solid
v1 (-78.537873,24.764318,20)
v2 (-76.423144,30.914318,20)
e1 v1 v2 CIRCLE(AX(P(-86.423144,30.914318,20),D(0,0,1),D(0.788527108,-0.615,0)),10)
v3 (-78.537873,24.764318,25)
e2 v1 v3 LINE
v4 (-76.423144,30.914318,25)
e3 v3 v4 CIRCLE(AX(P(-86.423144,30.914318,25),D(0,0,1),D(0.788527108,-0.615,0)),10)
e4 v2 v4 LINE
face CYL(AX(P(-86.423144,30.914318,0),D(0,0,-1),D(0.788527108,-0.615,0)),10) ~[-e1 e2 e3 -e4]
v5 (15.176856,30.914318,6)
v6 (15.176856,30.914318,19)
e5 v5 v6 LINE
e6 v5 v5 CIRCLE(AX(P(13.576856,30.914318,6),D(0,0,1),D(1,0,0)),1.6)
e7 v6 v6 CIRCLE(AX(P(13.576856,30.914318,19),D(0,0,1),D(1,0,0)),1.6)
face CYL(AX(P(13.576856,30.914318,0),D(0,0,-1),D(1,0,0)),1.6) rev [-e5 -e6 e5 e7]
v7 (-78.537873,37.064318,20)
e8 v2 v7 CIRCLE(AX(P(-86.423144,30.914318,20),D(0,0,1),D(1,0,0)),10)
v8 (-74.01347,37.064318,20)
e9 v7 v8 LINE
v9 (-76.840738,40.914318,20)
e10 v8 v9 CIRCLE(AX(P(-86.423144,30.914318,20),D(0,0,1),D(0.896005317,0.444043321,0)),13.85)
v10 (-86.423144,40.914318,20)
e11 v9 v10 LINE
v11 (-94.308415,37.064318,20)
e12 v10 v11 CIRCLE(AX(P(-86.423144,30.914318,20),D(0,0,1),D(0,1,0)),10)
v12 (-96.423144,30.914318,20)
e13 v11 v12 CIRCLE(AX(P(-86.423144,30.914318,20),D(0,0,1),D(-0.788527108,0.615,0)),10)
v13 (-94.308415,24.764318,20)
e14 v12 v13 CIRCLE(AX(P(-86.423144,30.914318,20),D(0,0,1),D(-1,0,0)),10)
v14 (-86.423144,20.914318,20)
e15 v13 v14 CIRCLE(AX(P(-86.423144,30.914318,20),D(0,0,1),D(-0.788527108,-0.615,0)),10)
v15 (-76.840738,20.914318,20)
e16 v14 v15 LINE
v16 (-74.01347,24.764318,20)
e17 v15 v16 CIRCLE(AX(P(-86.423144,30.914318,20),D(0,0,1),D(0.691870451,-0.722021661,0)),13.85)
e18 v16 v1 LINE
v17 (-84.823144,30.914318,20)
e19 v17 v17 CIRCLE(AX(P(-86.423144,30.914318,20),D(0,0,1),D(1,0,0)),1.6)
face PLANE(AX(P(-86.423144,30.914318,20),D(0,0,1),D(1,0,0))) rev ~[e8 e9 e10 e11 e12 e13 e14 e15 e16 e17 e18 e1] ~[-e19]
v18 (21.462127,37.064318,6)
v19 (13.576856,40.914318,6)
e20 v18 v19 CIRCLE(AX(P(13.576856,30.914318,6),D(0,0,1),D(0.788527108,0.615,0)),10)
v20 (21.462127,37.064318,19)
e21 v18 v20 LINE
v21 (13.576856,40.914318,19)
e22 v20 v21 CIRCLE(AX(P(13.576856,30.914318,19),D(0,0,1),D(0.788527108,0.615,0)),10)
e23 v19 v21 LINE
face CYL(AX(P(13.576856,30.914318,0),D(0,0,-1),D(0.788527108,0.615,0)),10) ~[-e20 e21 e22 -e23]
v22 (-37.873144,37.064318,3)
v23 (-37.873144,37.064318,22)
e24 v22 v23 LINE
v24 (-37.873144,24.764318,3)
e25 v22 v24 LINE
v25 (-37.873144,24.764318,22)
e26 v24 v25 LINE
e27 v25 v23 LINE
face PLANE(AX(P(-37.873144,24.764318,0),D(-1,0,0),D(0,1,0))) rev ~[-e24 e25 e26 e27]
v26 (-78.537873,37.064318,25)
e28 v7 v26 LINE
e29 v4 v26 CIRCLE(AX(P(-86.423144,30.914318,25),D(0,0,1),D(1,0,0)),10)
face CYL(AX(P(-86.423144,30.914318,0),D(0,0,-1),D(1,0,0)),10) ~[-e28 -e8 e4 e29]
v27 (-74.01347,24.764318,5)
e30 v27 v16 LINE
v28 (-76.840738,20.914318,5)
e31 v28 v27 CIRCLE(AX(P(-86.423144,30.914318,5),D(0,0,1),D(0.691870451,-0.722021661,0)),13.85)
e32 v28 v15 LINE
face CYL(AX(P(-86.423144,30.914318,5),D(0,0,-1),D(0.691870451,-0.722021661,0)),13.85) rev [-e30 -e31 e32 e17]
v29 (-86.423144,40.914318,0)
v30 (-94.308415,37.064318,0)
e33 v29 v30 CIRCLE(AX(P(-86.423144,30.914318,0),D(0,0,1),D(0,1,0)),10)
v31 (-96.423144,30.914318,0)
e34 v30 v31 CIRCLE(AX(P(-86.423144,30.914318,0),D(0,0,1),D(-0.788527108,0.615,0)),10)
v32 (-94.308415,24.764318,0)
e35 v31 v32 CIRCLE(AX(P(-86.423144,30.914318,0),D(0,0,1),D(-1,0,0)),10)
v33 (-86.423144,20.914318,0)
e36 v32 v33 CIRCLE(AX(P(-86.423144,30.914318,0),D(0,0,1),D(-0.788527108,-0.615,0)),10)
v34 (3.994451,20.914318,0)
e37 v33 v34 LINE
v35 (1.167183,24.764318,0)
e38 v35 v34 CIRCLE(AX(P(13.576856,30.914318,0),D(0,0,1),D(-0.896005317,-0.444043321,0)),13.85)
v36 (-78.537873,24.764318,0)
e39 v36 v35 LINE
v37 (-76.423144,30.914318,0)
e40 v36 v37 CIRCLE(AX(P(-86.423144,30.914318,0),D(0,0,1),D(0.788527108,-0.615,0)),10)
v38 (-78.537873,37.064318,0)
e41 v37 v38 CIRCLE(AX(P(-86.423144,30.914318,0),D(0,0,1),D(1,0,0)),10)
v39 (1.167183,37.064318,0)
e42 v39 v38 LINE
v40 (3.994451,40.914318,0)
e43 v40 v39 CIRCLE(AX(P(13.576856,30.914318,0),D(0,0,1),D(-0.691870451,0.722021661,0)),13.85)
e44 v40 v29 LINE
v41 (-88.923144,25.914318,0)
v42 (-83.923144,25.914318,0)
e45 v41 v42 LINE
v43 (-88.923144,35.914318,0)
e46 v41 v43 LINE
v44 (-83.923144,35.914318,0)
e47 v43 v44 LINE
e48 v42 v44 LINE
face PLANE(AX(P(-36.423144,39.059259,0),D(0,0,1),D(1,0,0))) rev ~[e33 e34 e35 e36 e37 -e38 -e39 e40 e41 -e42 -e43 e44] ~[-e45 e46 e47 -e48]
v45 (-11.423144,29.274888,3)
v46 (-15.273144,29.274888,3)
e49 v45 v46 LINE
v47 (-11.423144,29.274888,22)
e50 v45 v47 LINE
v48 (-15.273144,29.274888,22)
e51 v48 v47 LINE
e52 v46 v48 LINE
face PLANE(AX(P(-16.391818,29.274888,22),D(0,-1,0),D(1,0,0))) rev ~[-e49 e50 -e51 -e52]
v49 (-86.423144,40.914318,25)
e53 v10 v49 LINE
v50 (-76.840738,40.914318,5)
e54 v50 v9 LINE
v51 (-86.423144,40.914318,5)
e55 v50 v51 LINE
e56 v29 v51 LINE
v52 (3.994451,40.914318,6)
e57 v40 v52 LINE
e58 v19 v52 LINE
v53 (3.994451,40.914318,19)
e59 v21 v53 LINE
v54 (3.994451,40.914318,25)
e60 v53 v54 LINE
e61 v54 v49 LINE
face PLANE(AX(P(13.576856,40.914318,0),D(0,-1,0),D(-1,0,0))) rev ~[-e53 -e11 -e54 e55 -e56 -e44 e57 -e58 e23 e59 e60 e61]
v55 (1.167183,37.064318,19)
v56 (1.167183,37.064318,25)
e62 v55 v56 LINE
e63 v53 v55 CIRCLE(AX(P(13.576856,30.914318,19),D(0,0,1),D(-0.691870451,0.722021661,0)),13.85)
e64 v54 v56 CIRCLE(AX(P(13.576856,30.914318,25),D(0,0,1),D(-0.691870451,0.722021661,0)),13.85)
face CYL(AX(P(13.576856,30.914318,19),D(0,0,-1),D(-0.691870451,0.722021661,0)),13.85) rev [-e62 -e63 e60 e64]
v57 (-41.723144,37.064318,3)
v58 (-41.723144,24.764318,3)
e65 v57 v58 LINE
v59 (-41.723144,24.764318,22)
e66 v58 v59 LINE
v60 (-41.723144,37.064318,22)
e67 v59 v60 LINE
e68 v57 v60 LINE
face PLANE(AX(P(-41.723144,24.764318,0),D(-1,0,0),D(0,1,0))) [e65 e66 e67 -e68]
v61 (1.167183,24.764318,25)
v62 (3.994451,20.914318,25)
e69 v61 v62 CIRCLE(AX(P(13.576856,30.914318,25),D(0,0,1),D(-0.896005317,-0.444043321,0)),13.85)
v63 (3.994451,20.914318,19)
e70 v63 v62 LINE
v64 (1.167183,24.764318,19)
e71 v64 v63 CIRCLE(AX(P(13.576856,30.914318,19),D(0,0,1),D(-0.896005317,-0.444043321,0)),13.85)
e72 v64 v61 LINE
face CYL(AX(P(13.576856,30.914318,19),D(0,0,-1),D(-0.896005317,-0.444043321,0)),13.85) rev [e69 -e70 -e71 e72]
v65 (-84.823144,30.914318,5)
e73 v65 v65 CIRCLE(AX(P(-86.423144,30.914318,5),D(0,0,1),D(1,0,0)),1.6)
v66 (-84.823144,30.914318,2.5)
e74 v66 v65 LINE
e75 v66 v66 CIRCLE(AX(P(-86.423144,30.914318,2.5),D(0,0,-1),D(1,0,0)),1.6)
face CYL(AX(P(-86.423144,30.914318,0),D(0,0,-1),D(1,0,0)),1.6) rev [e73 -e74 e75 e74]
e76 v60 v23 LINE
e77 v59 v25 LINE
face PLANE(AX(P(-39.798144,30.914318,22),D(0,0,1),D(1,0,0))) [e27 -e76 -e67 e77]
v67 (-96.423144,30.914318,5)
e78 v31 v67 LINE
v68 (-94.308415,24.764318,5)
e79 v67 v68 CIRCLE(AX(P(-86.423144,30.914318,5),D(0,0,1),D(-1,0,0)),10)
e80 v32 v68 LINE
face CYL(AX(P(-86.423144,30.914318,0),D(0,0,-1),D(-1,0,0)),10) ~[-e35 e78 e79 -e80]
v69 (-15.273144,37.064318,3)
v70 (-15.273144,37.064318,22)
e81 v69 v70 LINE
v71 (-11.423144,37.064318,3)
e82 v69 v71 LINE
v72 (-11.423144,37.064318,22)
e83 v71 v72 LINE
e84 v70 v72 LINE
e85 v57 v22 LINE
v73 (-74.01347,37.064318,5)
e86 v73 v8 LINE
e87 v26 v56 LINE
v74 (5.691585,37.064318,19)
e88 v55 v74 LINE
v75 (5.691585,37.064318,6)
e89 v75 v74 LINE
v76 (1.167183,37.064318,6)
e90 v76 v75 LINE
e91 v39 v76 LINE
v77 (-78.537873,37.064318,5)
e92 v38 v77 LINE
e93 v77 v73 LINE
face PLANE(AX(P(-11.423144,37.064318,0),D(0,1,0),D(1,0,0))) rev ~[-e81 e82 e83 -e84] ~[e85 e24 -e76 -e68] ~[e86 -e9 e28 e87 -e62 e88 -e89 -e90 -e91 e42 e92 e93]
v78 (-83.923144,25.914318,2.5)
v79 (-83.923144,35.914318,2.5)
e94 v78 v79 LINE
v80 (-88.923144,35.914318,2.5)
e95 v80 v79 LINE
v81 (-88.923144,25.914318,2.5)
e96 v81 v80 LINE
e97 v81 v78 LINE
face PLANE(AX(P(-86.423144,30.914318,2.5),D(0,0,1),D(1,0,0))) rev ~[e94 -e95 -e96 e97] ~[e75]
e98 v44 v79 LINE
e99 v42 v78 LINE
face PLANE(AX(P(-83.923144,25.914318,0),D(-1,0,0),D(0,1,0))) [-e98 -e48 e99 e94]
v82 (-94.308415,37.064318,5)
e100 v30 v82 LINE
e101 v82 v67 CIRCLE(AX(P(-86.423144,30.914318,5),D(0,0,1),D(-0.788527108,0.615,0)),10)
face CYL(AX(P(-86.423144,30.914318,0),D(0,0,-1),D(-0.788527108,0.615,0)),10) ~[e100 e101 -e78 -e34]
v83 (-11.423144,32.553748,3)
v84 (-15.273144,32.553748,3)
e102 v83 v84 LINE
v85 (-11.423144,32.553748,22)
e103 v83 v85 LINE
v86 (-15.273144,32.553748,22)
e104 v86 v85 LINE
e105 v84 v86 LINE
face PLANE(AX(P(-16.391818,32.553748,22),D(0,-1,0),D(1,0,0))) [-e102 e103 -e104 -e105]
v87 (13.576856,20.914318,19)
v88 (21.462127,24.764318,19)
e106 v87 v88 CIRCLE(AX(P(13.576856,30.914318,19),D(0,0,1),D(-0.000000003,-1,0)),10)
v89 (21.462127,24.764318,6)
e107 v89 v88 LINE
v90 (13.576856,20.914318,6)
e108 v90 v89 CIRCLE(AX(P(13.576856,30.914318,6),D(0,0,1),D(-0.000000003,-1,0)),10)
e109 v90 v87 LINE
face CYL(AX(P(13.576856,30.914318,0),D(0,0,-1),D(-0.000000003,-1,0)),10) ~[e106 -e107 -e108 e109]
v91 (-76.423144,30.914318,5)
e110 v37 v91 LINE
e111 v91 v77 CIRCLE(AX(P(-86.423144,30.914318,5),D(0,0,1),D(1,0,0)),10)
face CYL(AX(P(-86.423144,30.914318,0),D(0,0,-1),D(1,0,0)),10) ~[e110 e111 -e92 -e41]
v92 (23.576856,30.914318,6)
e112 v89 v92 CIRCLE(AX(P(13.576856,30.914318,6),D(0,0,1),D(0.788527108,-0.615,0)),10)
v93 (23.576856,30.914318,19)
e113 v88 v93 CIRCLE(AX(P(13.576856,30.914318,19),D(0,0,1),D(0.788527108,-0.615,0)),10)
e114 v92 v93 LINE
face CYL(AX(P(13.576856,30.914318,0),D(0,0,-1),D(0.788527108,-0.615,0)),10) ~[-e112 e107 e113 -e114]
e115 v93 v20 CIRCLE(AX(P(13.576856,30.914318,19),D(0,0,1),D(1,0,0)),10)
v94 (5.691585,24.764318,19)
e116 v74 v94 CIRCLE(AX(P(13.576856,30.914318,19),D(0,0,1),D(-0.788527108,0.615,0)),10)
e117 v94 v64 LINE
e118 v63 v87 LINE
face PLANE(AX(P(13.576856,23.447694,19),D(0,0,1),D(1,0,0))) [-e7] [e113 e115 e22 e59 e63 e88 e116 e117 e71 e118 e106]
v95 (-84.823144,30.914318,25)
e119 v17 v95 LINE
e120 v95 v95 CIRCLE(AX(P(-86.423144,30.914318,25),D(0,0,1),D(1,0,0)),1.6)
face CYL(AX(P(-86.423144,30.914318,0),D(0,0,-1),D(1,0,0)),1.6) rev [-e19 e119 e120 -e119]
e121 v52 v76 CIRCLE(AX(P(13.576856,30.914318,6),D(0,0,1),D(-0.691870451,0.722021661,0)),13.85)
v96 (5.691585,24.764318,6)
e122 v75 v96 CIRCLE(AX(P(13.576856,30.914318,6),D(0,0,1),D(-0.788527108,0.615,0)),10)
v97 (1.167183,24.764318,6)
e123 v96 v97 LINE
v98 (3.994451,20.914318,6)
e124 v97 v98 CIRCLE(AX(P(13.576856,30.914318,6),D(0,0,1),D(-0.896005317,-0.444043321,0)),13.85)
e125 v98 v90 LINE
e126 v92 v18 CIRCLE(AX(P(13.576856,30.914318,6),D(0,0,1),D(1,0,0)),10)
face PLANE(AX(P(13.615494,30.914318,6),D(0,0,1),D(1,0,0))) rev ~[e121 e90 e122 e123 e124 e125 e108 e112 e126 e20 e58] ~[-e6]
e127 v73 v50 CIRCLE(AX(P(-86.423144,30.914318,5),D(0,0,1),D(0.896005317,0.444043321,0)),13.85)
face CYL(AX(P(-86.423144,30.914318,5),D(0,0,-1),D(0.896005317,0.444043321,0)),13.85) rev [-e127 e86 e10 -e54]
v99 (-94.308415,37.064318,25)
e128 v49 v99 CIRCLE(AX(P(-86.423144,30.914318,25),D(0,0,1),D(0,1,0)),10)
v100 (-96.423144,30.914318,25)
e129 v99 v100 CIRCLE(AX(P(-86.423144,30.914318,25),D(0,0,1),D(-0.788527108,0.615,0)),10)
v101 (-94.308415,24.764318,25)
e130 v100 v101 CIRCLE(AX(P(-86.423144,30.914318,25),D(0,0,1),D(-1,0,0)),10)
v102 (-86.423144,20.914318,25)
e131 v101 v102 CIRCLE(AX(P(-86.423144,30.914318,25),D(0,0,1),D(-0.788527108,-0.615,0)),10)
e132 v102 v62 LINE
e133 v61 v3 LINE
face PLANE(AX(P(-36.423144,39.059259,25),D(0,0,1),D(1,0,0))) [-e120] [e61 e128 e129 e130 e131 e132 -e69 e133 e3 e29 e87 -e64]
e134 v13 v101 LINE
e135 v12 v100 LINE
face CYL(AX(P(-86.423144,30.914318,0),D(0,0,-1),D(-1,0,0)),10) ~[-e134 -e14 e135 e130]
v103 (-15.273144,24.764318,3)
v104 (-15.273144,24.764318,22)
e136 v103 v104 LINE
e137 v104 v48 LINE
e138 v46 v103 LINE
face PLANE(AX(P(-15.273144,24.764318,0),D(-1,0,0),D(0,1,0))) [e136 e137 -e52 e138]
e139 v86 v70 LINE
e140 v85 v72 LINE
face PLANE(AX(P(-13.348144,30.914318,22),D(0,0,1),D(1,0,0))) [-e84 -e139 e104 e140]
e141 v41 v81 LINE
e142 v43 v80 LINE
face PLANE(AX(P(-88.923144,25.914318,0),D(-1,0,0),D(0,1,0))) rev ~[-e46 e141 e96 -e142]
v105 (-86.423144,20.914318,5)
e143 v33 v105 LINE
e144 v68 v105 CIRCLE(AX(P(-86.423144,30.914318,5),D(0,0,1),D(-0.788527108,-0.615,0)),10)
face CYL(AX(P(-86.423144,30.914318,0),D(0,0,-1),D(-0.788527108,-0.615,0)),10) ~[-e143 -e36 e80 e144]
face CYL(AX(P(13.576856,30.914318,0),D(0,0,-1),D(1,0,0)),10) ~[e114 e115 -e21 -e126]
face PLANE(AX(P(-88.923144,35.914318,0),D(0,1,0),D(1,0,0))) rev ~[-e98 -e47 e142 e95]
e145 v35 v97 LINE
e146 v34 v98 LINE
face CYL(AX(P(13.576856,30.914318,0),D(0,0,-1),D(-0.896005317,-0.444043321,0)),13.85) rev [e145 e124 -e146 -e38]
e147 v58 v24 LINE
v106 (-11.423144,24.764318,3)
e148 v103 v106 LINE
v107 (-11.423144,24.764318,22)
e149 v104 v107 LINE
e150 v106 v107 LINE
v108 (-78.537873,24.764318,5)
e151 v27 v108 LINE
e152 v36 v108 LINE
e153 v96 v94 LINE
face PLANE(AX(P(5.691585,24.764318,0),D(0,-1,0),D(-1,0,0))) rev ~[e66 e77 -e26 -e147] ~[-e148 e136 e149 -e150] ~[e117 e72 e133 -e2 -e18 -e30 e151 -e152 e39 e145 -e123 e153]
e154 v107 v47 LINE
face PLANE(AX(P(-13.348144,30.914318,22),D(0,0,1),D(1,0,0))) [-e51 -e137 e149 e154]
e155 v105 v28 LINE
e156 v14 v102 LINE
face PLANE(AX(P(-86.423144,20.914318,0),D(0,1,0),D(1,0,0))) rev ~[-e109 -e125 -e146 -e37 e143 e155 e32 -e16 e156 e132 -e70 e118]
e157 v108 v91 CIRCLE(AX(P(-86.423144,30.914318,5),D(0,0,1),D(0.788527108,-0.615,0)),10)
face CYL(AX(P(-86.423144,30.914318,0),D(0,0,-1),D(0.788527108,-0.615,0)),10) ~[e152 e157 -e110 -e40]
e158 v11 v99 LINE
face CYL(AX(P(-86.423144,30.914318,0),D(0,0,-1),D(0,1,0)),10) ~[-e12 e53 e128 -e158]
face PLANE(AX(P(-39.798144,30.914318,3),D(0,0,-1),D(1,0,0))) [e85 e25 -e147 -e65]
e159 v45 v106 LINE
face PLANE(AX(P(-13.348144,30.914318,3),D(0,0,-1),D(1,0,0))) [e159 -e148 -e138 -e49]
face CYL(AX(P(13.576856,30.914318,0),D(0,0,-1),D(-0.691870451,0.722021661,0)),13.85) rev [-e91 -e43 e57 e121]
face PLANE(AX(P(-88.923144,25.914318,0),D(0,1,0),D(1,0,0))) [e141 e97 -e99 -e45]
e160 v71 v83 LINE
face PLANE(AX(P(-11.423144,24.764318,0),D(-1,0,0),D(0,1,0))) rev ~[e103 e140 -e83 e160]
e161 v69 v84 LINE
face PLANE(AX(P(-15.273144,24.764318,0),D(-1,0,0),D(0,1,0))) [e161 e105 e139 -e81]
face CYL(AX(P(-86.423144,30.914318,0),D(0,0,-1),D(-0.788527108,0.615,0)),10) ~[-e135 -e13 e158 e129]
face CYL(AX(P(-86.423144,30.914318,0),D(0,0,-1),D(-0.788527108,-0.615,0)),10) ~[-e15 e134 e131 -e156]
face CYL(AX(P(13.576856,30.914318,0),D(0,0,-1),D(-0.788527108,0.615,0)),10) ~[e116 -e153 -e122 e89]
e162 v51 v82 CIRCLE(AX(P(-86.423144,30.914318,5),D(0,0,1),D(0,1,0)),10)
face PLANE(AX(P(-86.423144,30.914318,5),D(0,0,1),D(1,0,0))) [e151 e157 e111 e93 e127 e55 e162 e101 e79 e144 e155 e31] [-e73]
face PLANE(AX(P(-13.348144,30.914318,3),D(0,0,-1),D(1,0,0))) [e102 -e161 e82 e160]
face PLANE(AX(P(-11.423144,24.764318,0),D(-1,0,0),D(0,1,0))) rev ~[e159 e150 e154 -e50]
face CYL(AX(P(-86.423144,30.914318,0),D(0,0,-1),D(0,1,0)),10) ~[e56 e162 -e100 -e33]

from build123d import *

# Parameters (mm, degrees)
F0_R      = 1.6
F0_W      = 3.85
F0_H      = 12.3
F1_DEPTH  = 25
F2_W      = 3.85
F2_H      = 12.3
F3_DEPTH  = 3
F4_W      = 3.85
F4_H      = 12.3
F5_DEPTH  = 3
F7_START  = 19
F7_DEPTH  = 6
F8_DEPTH  = 6
F9_START  = 5
F9_DEPTH  = 15
F10_W     = 5
F10_H     = 10
F11_DEPTH = 2.5
F13_W     = 6.0873482585
F13_H     = 3.2788594067
F14_DEPTH = 25


with BuildPart() as f1:
    # F0 (on Top) → F1 (new body)
    with BuildSketch(Plane.XY):
        with BuildLine():
            Line((3.9944505033, 40.91431804), (-76.8407379923, 40.91431804))
            ThreePointArc((-76.8407379923, 40.91431804), (-75.2598774633, 39.1121217664), (-74.0134700985, 37.06431804))
            Line((-74.0134700985, 37.06431804), (-41.7231437445, 37.06431804))
            Line((-41.7231437445, 37.06431804), (-37.8731437445, 37.06431804))
            Line((-37.8731437445, 37.06431804), (-15.2731437445, 37.06431804))
            Line((-15.2731437445, 37.06431804), (-11.4231437445, 37.06431804))
            Line((-11.4231437445, 37.06431804), (1.1671826095, 37.06431804))
            ThreePointArc((1.1671826095, 37.06431804), (2.4135899744, 39.1121217664), (3.9944505033, 40.91431804))
        make_face()
        with BuildLine():
            Line((-76.8407379923, 40.91431804), (-86.4231437445, 40.91431804))
            ThreePointArc((-86.4231437445, 40.91431804), (-82.0356615508, 39.9004184178), (-78.5378726648, 37.06431804))
            Line((-78.5378726648, 37.06431804), (-74.0134700985, 37.06431804))
            ThreePointArc((-74.0134700985, 37.06431804), (-75.2598774633, 39.1121217664), (-76.8407379923, 40.91431804))
        make_face()
        with BuildLine():
            ThreePointArc((-78.5378726648, 37.06431804), (-82.0356615508, 39.9004184178), (-86.4231437445, 40.91431804))
            ThreePointArc((-86.4231437445, 40.91431804), (-90.8106259382, 39.9004184178), (-94.3084148241, 37.06431804))
            Line((-94.3084148241, 37.06431804), (-78.5378726648, 37.06431804))
        make_face()
        with BuildLine():
            ThreePointArc((-76.4231437445, 30.91431804), (-76.9665928194, 34.1660321421), (-78.5378726648, 37.06431804))
            Line((-78.5378726648, 37.06431804), (-94.3084148241, 37.06431804))
            ThreePointArc((-94.3084148241, 37.06431804), (-95.8796946695, 34.1660321421), (-96.4231437445, 30.91431804))
            ThreePointArc((-96.4231437445, 30.91431804), (-95.8796946695, 27.6626039379), (-94.3084148241, 24.76431804))
            Line((-94.3084148241, 24.76431804), (-78.5378726648, 24.76431804))
            ThreePointArc((-78.5378726648, 24.76431804), (-76.9665928194, 27.6626039379), (-76.4231437445, 30.91431804))
        make_face()
        with Locations((-86.4231437445, 30.91431804)):
            Circle(F0_R, mode=Mode.SUBTRACT)
        with BuildLine():
            ThreePointArc((-78.5378726648, 24.76431804), (-82.0356615508, 21.9282176622), (-86.4231437445, 20.91431804))
            Line((-86.4231437445, 20.91431804), (-76.8407379923, 20.91431804))
            ThreePointArc((-76.8407379923, 20.91431804), (-75.2598774633, 22.7165143137), (-74.0134700985, 24.76431804))
            Line((-74.0134700985, 24.76431804), (-78.5378726648, 24.76431804))
        make_face()
        with BuildLine():
            Line((-78.5378726648, 24.76431804), (-94.3084148241, 24.76431804))
            ThreePointArc((-94.3084148241, 24.76431804), (-90.8106259382, 21.9282176622), (-86.4231437445, 20.91431804))
            ThreePointArc((-86.4231437445, 20.91431804), (-82.0356615508, 21.9282176622), (-78.5378726648, 24.76431804))
        make_face()
        with BuildLine():
            ThreePointArc((-74.0134700985, 24.76431804), (-75.2598774633, 22.7165143137), (-76.8407379923, 20.91431804))
            Line((-76.8407379923, 20.91431804), (3.9944505033, 20.91431804))
            ThreePointArc((3.9944505033, 20.91431804), (2.4135899744, 22.7165143137), (1.1671826095, 24.76431804))
            Line((1.1671826095, 24.76431804), (-11.4231437445, 24.76431804))
            Line((-11.4231437445, 24.76431804), (-15.2731437445, 24.76431804))
            Line((-15.2731437445, 24.76431804), (-37.8731437445, 24.76431804))
            Line((-37.8731437445, 24.76431804), (-41.7231437445, 24.76431804))
            Line((-41.7231437445, 24.76431804), (-74.0134700985, 24.76431804))
        make_face()
        with Locations((-39.7981437445, 30.91431804)):
            Rectangle(F0_W, F0_H)
        with Locations((-13.3481437445, 30.91431804)):
            Rectangle(F0_W, F0_H)
        with BuildLine():
            ThreePointArc((23.5768562555, 30.91431804), (23.0334071806, 34.1660321421), (21.4621273352, 37.06431804))
            Line((21.4621273352, 37.06431804), (5.6915851759, 37.06431804))
            ThreePointArc((5.6915851759, 37.06431804), (3.5768562555, 30.91431804), (5.6915851759, 24.76431804))
            Line((5.6915851759, 24.76431804), (21.4621273352, 24.76431804))
            ThreePointArc((21.4621273352, 24.76431804), (23.0334071806, 27.6626039379), (23.5768562555, 30.91431804))
        make_face()
        with Locations((13.5768562555, 30.91431804)):
            Circle(F0_R, mode=Mode.SUBTRACT)
        with BuildLine():
            ThreePointArc((21.4621273352, 37.06431804), (17.9643384401, 39.9004184223), (13.5768562351, 40.91431804))
            ThreePointArc((13.5768562351, 40.91431804), (9.1893740527, 39.9004184133), (5.6915851759, 37.06431804))
            Line((5.6915851759, 37.06431804), (21.4621273352, 37.06431804))
        make_face()
        with BuildLine():
            Line((13.5768562351, 40.91431804), (3.9944505033, 40.91431804))
            ThreePointArc((3.9944505033, 40.91431804), (2.4135899744, 39.1121217664), (1.1671826095, 37.06431804))
            Line((1.1671826095, 37.06431804), (5.6915851759, 37.06431804))
            ThreePointArc((5.6915851759, 37.06431804), (9.1893740527, 39.9004184133), (13.5768562351, 40.91431804))
        make_face()
        with BuildLine():
            Line((21.4621273352, 24.76431804), (5.6915851759, 24.76431804))
            ThreePointArc((5.6915851759, 24.76431804), (9.1893740469, 21.9282176695), (13.5768562222, 20.91431804))
            ThreePointArc((13.5768562222, 20.91431804), (17.9643384343, 21.9282176549), (21.4621273352, 24.76431804))
        make_face()
        with BuildLine():
            Line((5.6915851759, 24.76431804), (1.1671826095, 24.76431804))
            ThreePointArc((1.1671826095, 24.76431804), (2.4135899744, 22.7165143137), (3.9944505033, 20.91431804))
            Line((3.9944505033, 20.91431804), (13.5768562222, 20.91431804))
            ThreePointArc((13.5768562222, 20.91431804), (9.1893740469, 21.9282176695), (5.6915851759, 24.76431804))
        make_face()
    extrude(amount=F1_DEPTH)

    # F2 (on face) → F3 (cut)
    with BuildSketch(Plane.XY.offset(25)):
        with Locations((-39.7981437445, 30.91431804)):
            Rectangle(F2_W, F2_H)
        with Locations((-13.3481437445, 30.91431804)):
            Rectangle(F2_W, F2_H)
    extrude(amount=-F3_DEPTH, mode=Mode.SUBTRACT)

    # F4 (on face) → F5 (cut)
    with BuildSketch(Plane(origin=(0, 0, 0), x_dir=(1, 0, 0), z_dir=(0, 0, -1))):
        with Locations((-13.3481437445, -30.91431804)):
            Rectangle(F4_W, F4_H)
        with Locations((-39.7981437445, -30.91431804)):
            Rectangle(F4_W, F4_H)
    extrude(amount=-F5_DEPTH, mode=Mode.SUBTRACT)

    # F0 (on Top) → F7 (cut)
    with BuildSketch(Plane.XY.offset(F7_START)):
        with BuildLine():
            Line((21.4621273352, 24.76431804), (5.6915851759, 24.76431804))
            ThreePointArc((5.6915851759, 24.76431804), (9.1893740469, 21.9282176695), (13.5768562222, 20.91431804))
            ThreePointArc((13.5768562222, 20.91431804), (17.9643384343, 21.9282176549), (21.4621273352, 24.76431804))
        make_face()
        with BuildLine():
            ThreePointArc((23.5768562555, 30.91431804), (23.0334071806, 34.1660321421), (21.4621273352, 37.06431804))
            Line((21.4621273352, 37.06431804), (5.6915851759, 37.06431804))
            ThreePointArc((5.6915851759, 37.06431804), (3.5768562555, 30.91431804), (5.6915851759, 24.76431804))
            Line((5.6915851759, 24.76431804), (21.4621273352, 24.76431804))
            ThreePointArc((21.4621273352, 24.76431804), (23.0334071806, 27.6626039379), (23.5768562555, 30.91431804))
        make_face()
        with Locations((13.5768562555, 30.91431804)):
            Circle(F0_R, mode=Mode.SUBTRACT)
        with BuildLine():
            ThreePointArc((21.4621273352, 37.06431804), (17.9643384401, 39.9004184223), (13.5768562351, 40.91431804))
            ThreePointArc((13.5768562351, 40.91431804), (9.1893740527, 39.9004184133), (5.6915851759, 37.06431804))
            Line((5.6915851759, 37.06431804), (21.4621273352, 37.06431804))
        make_face()
        with BuildLine():
            Line((13.5768562351, 40.91431804), (3.9944505033, 40.91431804))
            ThreePointArc((3.9944505033, 40.91431804), (2.4135899744, 39.1121217664), (1.1671826095, 37.06431804))
            Line((1.1671826095, 37.06431804), (5.6915851759, 37.06431804))
            ThreePointArc((5.6915851759, 37.06431804), (9.1893740527, 39.9004184133), (13.5768562351, 40.91431804))
        make_face()
        with BuildLine():
            Line((5.6915851759, 24.76431804), (1.1671826095, 24.76431804))
            ThreePointArc((1.1671826095, 24.76431804), (2.4135899744, 22.7165143137), (3.9944505033, 20.91431804))
            Line((3.9944505033, 20.91431804), (13.5768562222, 20.91431804))
            ThreePointArc((13.5768562222, 20.91431804), (9.1893740469, 21.9282176695), (5.6915851759, 24.76431804))
        make_face()
    extrude(amount=F7_DEPTH, mode=Mode.SUBTRACT)

    # F0 (on Top) → F8 (cut)
    with BuildSketch(Plane.XY):
        with BuildLine():
            ThreePointArc((23.5768562555, 30.91431804), (23.0334071806, 34.1660321421), (21.4621273352, 37.06431804))
            Line((21.4621273352, 37.06431804), (5.6915851759, 37.06431804))
            ThreePointArc((5.6915851759, 37.06431804), (3.5768562555, 30.91431804), (5.6915851759, 24.76431804))
            Line((5.6915851759, 24.76431804), (21.4621273352, 24.76431804))
            ThreePointArc((21.4621273352, 24.76431804), (23.0334071806, 27.6626039379), (23.5768562555, 30.91431804))
        make_face()
        with Locations((13.5768562555, 30.91431804)):
            Circle(F0_R, mode=Mode.SUBTRACT)
        with BuildLine():
            Line((13.5768562351, 40.91431804), (3.9944505033, 40.91431804))
            ThreePointArc((3.9944505033, 40.91431804), (2.4135899744, 39.1121217664), (1.1671826095, 37.06431804))
            Line((1.1671826095, 37.06431804), (5.6915851759, 37.06431804))
            ThreePointArc((5.6915851759, 37.06431804), (9.1893740527, 39.9004184133), (13.5768562351, 40.91431804))
        make_face()
        with BuildLine():
            Line((5.6915851759, 24.76431804), (1.1671826095, 24.76431804))
            ThreePointArc((1.1671826095, 24.76431804), (2.4135899744, 22.7165143137), (3.9944505033, 20.91431804))
            Line((3.9944505033, 20.91431804), (13.5768562222, 20.91431804))
            ThreePointArc((13.5768562222, 20.91431804), (9.1893740469, 21.9282176695), (5.6915851759, 24.76431804))
        make_face()
        with BuildLine():
            Line((21.4621273352, 24.76431804), (5.6915851759, 24.76431804))
            ThreePointArc((5.6915851759, 24.76431804), (9.1893740469, 21.9282176695), (13.5768562222, 20.91431804))
            ThreePointArc((13.5768562222, 20.91431804), (17.9643384343, 21.9282176549), (21.4621273352, 24.76431804))
        make_face()
        with BuildLine():
            ThreePointArc((21.4621273352, 37.06431804), (17.9643384401, 39.9004184223), (13.5768562351, 40.91431804))
            ThreePointArc((13.5768562351, 40.91431804), (9.1893740527, 39.9004184133), (5.6915851759, 37.06431804))
            Line((5.6915851759, 37.06431804), (21.4621273352, 37.06431804))
        make_face()
    extrude(amount=F8_DEPTH, mode=Mode.SUBTRACT)

    # F0 (on Top) → F9 (cut)
    with BuildSketch(Plane.XY.offset(F9_START)):
        with BuildLine():
            ThreePointArc((-76.4231437445, 30.91431804), (-76.9665928194, 34.1660321421), (-78.5378726648, 37.06431804))
            Line((-78.5378726648, 37.06431804), (-94.3084148241, 37.06431804))
            ThreePointArc((-94.3084148241, 37.06431804), (-95.8796946695, 34.1660321421), (-96.4231437445, 30.91431804))
            ThreePointArc((-96.4231437445, 30.91431804), (-95.8796946695, 27.6626039379), (-94.3084148241, 24.76431804))
            Line((-94.3084148241, 24.76431804), (-78.5378726648, 24.76431804))
            ThreePointArc((-78.5378726648, 24.76431804), (-76.9665928194, 27.6626039379), (-76.4231437445, 30.91431804))
        make_face()
        with Locations((-86.4231437445, 30.91431804)):
            Circle(F0_R, mode=Mode.SUBTRACT)
        with BuildLine():
            Line((-78.5378726648, 24.76431804), (-94.3084148241, 24.76431804))
            ThreePointArc((-94.3084148241, 24.76431804), (-90.8106259382, 21.9282176622), (-86.4231437445, 20.91431804))
            ThreePointArc((-86.4231437445, 20.91431804), (-82.0356615508, 21.9282176622), (-78.5378726648, 24.76431804))
        make_face()
        with BuildLine():
            ThreePointArc((-78.5378726648, 37.06431804), (-82.0356615508, 39.9004184178), (-86.4231437445, 40.91431804))
            ThreePointArc((-86.4231437445, 40.91431804), (-90.8106259382, 39.9004184178), (-94.3084148241, 37.06431804))
            Line((-94.3084148241, 37.06431804), (-78.5378726648, 37.06431804))
        make_face()
        with BuildLine():
            Line((-76.8407379923, 40.91431804), (-86.4231437445, 40.91431804))
            ThreePointArc((-86.4231437445, 40.91431804), (-82.0356615508, 39.9004184178), (-78.5378726648, 37.06431804))
            Line((-78.5378726648, 37.06431804), (-74.0134700985, 37.06431804))
            ThreePointArc((-74.0134700985, 37.06431804), (-75.2598774633, 39.1121217664), (-76.8407379923, 40.91431804))
        make_face()
        with BuildLine():
            ThreePointArc((-78.5378726648, 24.76431804), (-82.0356615508, 21.9282176622), (-86.4231437445, 20.91431804))
            Line((-86.4231437445, 20.91431804), (-76.8407379923, 20.91431804))
            ThreePointArc((-76.8407379923, 20.91431804), (-75.2598774633, 22.7165143137), (-74.0134700985, 24.76431804))
            Line((-74.0134700985, 24.76431804), (-78.5378726648, 24.76431804))
        make_face()
    extrude(amount=F9_DEPTH, mode=Mode.SUBTRACT)

    # F10 (on face) → F11 (cut)
    with BuildSketch(Plane.XY):
        with Locations((-86.4231437445, 30.91431804)):
            Rectangle(F10_W, F10_H)
    extrude(amount=F11_DEPTH, mode=Mode.SUBTRACT)

    # F13 (on face) → F14 (cut)
    with BuildSketch(Plane.XY.offset(22)):
        with Locations((-13.3481437445, 30.91431804)):
            Rectangle(F13_W, F13_H)
    extrude(amount=-F14_DEPTH, mode=Mode.SUBTRACT)


solid = f1.part
